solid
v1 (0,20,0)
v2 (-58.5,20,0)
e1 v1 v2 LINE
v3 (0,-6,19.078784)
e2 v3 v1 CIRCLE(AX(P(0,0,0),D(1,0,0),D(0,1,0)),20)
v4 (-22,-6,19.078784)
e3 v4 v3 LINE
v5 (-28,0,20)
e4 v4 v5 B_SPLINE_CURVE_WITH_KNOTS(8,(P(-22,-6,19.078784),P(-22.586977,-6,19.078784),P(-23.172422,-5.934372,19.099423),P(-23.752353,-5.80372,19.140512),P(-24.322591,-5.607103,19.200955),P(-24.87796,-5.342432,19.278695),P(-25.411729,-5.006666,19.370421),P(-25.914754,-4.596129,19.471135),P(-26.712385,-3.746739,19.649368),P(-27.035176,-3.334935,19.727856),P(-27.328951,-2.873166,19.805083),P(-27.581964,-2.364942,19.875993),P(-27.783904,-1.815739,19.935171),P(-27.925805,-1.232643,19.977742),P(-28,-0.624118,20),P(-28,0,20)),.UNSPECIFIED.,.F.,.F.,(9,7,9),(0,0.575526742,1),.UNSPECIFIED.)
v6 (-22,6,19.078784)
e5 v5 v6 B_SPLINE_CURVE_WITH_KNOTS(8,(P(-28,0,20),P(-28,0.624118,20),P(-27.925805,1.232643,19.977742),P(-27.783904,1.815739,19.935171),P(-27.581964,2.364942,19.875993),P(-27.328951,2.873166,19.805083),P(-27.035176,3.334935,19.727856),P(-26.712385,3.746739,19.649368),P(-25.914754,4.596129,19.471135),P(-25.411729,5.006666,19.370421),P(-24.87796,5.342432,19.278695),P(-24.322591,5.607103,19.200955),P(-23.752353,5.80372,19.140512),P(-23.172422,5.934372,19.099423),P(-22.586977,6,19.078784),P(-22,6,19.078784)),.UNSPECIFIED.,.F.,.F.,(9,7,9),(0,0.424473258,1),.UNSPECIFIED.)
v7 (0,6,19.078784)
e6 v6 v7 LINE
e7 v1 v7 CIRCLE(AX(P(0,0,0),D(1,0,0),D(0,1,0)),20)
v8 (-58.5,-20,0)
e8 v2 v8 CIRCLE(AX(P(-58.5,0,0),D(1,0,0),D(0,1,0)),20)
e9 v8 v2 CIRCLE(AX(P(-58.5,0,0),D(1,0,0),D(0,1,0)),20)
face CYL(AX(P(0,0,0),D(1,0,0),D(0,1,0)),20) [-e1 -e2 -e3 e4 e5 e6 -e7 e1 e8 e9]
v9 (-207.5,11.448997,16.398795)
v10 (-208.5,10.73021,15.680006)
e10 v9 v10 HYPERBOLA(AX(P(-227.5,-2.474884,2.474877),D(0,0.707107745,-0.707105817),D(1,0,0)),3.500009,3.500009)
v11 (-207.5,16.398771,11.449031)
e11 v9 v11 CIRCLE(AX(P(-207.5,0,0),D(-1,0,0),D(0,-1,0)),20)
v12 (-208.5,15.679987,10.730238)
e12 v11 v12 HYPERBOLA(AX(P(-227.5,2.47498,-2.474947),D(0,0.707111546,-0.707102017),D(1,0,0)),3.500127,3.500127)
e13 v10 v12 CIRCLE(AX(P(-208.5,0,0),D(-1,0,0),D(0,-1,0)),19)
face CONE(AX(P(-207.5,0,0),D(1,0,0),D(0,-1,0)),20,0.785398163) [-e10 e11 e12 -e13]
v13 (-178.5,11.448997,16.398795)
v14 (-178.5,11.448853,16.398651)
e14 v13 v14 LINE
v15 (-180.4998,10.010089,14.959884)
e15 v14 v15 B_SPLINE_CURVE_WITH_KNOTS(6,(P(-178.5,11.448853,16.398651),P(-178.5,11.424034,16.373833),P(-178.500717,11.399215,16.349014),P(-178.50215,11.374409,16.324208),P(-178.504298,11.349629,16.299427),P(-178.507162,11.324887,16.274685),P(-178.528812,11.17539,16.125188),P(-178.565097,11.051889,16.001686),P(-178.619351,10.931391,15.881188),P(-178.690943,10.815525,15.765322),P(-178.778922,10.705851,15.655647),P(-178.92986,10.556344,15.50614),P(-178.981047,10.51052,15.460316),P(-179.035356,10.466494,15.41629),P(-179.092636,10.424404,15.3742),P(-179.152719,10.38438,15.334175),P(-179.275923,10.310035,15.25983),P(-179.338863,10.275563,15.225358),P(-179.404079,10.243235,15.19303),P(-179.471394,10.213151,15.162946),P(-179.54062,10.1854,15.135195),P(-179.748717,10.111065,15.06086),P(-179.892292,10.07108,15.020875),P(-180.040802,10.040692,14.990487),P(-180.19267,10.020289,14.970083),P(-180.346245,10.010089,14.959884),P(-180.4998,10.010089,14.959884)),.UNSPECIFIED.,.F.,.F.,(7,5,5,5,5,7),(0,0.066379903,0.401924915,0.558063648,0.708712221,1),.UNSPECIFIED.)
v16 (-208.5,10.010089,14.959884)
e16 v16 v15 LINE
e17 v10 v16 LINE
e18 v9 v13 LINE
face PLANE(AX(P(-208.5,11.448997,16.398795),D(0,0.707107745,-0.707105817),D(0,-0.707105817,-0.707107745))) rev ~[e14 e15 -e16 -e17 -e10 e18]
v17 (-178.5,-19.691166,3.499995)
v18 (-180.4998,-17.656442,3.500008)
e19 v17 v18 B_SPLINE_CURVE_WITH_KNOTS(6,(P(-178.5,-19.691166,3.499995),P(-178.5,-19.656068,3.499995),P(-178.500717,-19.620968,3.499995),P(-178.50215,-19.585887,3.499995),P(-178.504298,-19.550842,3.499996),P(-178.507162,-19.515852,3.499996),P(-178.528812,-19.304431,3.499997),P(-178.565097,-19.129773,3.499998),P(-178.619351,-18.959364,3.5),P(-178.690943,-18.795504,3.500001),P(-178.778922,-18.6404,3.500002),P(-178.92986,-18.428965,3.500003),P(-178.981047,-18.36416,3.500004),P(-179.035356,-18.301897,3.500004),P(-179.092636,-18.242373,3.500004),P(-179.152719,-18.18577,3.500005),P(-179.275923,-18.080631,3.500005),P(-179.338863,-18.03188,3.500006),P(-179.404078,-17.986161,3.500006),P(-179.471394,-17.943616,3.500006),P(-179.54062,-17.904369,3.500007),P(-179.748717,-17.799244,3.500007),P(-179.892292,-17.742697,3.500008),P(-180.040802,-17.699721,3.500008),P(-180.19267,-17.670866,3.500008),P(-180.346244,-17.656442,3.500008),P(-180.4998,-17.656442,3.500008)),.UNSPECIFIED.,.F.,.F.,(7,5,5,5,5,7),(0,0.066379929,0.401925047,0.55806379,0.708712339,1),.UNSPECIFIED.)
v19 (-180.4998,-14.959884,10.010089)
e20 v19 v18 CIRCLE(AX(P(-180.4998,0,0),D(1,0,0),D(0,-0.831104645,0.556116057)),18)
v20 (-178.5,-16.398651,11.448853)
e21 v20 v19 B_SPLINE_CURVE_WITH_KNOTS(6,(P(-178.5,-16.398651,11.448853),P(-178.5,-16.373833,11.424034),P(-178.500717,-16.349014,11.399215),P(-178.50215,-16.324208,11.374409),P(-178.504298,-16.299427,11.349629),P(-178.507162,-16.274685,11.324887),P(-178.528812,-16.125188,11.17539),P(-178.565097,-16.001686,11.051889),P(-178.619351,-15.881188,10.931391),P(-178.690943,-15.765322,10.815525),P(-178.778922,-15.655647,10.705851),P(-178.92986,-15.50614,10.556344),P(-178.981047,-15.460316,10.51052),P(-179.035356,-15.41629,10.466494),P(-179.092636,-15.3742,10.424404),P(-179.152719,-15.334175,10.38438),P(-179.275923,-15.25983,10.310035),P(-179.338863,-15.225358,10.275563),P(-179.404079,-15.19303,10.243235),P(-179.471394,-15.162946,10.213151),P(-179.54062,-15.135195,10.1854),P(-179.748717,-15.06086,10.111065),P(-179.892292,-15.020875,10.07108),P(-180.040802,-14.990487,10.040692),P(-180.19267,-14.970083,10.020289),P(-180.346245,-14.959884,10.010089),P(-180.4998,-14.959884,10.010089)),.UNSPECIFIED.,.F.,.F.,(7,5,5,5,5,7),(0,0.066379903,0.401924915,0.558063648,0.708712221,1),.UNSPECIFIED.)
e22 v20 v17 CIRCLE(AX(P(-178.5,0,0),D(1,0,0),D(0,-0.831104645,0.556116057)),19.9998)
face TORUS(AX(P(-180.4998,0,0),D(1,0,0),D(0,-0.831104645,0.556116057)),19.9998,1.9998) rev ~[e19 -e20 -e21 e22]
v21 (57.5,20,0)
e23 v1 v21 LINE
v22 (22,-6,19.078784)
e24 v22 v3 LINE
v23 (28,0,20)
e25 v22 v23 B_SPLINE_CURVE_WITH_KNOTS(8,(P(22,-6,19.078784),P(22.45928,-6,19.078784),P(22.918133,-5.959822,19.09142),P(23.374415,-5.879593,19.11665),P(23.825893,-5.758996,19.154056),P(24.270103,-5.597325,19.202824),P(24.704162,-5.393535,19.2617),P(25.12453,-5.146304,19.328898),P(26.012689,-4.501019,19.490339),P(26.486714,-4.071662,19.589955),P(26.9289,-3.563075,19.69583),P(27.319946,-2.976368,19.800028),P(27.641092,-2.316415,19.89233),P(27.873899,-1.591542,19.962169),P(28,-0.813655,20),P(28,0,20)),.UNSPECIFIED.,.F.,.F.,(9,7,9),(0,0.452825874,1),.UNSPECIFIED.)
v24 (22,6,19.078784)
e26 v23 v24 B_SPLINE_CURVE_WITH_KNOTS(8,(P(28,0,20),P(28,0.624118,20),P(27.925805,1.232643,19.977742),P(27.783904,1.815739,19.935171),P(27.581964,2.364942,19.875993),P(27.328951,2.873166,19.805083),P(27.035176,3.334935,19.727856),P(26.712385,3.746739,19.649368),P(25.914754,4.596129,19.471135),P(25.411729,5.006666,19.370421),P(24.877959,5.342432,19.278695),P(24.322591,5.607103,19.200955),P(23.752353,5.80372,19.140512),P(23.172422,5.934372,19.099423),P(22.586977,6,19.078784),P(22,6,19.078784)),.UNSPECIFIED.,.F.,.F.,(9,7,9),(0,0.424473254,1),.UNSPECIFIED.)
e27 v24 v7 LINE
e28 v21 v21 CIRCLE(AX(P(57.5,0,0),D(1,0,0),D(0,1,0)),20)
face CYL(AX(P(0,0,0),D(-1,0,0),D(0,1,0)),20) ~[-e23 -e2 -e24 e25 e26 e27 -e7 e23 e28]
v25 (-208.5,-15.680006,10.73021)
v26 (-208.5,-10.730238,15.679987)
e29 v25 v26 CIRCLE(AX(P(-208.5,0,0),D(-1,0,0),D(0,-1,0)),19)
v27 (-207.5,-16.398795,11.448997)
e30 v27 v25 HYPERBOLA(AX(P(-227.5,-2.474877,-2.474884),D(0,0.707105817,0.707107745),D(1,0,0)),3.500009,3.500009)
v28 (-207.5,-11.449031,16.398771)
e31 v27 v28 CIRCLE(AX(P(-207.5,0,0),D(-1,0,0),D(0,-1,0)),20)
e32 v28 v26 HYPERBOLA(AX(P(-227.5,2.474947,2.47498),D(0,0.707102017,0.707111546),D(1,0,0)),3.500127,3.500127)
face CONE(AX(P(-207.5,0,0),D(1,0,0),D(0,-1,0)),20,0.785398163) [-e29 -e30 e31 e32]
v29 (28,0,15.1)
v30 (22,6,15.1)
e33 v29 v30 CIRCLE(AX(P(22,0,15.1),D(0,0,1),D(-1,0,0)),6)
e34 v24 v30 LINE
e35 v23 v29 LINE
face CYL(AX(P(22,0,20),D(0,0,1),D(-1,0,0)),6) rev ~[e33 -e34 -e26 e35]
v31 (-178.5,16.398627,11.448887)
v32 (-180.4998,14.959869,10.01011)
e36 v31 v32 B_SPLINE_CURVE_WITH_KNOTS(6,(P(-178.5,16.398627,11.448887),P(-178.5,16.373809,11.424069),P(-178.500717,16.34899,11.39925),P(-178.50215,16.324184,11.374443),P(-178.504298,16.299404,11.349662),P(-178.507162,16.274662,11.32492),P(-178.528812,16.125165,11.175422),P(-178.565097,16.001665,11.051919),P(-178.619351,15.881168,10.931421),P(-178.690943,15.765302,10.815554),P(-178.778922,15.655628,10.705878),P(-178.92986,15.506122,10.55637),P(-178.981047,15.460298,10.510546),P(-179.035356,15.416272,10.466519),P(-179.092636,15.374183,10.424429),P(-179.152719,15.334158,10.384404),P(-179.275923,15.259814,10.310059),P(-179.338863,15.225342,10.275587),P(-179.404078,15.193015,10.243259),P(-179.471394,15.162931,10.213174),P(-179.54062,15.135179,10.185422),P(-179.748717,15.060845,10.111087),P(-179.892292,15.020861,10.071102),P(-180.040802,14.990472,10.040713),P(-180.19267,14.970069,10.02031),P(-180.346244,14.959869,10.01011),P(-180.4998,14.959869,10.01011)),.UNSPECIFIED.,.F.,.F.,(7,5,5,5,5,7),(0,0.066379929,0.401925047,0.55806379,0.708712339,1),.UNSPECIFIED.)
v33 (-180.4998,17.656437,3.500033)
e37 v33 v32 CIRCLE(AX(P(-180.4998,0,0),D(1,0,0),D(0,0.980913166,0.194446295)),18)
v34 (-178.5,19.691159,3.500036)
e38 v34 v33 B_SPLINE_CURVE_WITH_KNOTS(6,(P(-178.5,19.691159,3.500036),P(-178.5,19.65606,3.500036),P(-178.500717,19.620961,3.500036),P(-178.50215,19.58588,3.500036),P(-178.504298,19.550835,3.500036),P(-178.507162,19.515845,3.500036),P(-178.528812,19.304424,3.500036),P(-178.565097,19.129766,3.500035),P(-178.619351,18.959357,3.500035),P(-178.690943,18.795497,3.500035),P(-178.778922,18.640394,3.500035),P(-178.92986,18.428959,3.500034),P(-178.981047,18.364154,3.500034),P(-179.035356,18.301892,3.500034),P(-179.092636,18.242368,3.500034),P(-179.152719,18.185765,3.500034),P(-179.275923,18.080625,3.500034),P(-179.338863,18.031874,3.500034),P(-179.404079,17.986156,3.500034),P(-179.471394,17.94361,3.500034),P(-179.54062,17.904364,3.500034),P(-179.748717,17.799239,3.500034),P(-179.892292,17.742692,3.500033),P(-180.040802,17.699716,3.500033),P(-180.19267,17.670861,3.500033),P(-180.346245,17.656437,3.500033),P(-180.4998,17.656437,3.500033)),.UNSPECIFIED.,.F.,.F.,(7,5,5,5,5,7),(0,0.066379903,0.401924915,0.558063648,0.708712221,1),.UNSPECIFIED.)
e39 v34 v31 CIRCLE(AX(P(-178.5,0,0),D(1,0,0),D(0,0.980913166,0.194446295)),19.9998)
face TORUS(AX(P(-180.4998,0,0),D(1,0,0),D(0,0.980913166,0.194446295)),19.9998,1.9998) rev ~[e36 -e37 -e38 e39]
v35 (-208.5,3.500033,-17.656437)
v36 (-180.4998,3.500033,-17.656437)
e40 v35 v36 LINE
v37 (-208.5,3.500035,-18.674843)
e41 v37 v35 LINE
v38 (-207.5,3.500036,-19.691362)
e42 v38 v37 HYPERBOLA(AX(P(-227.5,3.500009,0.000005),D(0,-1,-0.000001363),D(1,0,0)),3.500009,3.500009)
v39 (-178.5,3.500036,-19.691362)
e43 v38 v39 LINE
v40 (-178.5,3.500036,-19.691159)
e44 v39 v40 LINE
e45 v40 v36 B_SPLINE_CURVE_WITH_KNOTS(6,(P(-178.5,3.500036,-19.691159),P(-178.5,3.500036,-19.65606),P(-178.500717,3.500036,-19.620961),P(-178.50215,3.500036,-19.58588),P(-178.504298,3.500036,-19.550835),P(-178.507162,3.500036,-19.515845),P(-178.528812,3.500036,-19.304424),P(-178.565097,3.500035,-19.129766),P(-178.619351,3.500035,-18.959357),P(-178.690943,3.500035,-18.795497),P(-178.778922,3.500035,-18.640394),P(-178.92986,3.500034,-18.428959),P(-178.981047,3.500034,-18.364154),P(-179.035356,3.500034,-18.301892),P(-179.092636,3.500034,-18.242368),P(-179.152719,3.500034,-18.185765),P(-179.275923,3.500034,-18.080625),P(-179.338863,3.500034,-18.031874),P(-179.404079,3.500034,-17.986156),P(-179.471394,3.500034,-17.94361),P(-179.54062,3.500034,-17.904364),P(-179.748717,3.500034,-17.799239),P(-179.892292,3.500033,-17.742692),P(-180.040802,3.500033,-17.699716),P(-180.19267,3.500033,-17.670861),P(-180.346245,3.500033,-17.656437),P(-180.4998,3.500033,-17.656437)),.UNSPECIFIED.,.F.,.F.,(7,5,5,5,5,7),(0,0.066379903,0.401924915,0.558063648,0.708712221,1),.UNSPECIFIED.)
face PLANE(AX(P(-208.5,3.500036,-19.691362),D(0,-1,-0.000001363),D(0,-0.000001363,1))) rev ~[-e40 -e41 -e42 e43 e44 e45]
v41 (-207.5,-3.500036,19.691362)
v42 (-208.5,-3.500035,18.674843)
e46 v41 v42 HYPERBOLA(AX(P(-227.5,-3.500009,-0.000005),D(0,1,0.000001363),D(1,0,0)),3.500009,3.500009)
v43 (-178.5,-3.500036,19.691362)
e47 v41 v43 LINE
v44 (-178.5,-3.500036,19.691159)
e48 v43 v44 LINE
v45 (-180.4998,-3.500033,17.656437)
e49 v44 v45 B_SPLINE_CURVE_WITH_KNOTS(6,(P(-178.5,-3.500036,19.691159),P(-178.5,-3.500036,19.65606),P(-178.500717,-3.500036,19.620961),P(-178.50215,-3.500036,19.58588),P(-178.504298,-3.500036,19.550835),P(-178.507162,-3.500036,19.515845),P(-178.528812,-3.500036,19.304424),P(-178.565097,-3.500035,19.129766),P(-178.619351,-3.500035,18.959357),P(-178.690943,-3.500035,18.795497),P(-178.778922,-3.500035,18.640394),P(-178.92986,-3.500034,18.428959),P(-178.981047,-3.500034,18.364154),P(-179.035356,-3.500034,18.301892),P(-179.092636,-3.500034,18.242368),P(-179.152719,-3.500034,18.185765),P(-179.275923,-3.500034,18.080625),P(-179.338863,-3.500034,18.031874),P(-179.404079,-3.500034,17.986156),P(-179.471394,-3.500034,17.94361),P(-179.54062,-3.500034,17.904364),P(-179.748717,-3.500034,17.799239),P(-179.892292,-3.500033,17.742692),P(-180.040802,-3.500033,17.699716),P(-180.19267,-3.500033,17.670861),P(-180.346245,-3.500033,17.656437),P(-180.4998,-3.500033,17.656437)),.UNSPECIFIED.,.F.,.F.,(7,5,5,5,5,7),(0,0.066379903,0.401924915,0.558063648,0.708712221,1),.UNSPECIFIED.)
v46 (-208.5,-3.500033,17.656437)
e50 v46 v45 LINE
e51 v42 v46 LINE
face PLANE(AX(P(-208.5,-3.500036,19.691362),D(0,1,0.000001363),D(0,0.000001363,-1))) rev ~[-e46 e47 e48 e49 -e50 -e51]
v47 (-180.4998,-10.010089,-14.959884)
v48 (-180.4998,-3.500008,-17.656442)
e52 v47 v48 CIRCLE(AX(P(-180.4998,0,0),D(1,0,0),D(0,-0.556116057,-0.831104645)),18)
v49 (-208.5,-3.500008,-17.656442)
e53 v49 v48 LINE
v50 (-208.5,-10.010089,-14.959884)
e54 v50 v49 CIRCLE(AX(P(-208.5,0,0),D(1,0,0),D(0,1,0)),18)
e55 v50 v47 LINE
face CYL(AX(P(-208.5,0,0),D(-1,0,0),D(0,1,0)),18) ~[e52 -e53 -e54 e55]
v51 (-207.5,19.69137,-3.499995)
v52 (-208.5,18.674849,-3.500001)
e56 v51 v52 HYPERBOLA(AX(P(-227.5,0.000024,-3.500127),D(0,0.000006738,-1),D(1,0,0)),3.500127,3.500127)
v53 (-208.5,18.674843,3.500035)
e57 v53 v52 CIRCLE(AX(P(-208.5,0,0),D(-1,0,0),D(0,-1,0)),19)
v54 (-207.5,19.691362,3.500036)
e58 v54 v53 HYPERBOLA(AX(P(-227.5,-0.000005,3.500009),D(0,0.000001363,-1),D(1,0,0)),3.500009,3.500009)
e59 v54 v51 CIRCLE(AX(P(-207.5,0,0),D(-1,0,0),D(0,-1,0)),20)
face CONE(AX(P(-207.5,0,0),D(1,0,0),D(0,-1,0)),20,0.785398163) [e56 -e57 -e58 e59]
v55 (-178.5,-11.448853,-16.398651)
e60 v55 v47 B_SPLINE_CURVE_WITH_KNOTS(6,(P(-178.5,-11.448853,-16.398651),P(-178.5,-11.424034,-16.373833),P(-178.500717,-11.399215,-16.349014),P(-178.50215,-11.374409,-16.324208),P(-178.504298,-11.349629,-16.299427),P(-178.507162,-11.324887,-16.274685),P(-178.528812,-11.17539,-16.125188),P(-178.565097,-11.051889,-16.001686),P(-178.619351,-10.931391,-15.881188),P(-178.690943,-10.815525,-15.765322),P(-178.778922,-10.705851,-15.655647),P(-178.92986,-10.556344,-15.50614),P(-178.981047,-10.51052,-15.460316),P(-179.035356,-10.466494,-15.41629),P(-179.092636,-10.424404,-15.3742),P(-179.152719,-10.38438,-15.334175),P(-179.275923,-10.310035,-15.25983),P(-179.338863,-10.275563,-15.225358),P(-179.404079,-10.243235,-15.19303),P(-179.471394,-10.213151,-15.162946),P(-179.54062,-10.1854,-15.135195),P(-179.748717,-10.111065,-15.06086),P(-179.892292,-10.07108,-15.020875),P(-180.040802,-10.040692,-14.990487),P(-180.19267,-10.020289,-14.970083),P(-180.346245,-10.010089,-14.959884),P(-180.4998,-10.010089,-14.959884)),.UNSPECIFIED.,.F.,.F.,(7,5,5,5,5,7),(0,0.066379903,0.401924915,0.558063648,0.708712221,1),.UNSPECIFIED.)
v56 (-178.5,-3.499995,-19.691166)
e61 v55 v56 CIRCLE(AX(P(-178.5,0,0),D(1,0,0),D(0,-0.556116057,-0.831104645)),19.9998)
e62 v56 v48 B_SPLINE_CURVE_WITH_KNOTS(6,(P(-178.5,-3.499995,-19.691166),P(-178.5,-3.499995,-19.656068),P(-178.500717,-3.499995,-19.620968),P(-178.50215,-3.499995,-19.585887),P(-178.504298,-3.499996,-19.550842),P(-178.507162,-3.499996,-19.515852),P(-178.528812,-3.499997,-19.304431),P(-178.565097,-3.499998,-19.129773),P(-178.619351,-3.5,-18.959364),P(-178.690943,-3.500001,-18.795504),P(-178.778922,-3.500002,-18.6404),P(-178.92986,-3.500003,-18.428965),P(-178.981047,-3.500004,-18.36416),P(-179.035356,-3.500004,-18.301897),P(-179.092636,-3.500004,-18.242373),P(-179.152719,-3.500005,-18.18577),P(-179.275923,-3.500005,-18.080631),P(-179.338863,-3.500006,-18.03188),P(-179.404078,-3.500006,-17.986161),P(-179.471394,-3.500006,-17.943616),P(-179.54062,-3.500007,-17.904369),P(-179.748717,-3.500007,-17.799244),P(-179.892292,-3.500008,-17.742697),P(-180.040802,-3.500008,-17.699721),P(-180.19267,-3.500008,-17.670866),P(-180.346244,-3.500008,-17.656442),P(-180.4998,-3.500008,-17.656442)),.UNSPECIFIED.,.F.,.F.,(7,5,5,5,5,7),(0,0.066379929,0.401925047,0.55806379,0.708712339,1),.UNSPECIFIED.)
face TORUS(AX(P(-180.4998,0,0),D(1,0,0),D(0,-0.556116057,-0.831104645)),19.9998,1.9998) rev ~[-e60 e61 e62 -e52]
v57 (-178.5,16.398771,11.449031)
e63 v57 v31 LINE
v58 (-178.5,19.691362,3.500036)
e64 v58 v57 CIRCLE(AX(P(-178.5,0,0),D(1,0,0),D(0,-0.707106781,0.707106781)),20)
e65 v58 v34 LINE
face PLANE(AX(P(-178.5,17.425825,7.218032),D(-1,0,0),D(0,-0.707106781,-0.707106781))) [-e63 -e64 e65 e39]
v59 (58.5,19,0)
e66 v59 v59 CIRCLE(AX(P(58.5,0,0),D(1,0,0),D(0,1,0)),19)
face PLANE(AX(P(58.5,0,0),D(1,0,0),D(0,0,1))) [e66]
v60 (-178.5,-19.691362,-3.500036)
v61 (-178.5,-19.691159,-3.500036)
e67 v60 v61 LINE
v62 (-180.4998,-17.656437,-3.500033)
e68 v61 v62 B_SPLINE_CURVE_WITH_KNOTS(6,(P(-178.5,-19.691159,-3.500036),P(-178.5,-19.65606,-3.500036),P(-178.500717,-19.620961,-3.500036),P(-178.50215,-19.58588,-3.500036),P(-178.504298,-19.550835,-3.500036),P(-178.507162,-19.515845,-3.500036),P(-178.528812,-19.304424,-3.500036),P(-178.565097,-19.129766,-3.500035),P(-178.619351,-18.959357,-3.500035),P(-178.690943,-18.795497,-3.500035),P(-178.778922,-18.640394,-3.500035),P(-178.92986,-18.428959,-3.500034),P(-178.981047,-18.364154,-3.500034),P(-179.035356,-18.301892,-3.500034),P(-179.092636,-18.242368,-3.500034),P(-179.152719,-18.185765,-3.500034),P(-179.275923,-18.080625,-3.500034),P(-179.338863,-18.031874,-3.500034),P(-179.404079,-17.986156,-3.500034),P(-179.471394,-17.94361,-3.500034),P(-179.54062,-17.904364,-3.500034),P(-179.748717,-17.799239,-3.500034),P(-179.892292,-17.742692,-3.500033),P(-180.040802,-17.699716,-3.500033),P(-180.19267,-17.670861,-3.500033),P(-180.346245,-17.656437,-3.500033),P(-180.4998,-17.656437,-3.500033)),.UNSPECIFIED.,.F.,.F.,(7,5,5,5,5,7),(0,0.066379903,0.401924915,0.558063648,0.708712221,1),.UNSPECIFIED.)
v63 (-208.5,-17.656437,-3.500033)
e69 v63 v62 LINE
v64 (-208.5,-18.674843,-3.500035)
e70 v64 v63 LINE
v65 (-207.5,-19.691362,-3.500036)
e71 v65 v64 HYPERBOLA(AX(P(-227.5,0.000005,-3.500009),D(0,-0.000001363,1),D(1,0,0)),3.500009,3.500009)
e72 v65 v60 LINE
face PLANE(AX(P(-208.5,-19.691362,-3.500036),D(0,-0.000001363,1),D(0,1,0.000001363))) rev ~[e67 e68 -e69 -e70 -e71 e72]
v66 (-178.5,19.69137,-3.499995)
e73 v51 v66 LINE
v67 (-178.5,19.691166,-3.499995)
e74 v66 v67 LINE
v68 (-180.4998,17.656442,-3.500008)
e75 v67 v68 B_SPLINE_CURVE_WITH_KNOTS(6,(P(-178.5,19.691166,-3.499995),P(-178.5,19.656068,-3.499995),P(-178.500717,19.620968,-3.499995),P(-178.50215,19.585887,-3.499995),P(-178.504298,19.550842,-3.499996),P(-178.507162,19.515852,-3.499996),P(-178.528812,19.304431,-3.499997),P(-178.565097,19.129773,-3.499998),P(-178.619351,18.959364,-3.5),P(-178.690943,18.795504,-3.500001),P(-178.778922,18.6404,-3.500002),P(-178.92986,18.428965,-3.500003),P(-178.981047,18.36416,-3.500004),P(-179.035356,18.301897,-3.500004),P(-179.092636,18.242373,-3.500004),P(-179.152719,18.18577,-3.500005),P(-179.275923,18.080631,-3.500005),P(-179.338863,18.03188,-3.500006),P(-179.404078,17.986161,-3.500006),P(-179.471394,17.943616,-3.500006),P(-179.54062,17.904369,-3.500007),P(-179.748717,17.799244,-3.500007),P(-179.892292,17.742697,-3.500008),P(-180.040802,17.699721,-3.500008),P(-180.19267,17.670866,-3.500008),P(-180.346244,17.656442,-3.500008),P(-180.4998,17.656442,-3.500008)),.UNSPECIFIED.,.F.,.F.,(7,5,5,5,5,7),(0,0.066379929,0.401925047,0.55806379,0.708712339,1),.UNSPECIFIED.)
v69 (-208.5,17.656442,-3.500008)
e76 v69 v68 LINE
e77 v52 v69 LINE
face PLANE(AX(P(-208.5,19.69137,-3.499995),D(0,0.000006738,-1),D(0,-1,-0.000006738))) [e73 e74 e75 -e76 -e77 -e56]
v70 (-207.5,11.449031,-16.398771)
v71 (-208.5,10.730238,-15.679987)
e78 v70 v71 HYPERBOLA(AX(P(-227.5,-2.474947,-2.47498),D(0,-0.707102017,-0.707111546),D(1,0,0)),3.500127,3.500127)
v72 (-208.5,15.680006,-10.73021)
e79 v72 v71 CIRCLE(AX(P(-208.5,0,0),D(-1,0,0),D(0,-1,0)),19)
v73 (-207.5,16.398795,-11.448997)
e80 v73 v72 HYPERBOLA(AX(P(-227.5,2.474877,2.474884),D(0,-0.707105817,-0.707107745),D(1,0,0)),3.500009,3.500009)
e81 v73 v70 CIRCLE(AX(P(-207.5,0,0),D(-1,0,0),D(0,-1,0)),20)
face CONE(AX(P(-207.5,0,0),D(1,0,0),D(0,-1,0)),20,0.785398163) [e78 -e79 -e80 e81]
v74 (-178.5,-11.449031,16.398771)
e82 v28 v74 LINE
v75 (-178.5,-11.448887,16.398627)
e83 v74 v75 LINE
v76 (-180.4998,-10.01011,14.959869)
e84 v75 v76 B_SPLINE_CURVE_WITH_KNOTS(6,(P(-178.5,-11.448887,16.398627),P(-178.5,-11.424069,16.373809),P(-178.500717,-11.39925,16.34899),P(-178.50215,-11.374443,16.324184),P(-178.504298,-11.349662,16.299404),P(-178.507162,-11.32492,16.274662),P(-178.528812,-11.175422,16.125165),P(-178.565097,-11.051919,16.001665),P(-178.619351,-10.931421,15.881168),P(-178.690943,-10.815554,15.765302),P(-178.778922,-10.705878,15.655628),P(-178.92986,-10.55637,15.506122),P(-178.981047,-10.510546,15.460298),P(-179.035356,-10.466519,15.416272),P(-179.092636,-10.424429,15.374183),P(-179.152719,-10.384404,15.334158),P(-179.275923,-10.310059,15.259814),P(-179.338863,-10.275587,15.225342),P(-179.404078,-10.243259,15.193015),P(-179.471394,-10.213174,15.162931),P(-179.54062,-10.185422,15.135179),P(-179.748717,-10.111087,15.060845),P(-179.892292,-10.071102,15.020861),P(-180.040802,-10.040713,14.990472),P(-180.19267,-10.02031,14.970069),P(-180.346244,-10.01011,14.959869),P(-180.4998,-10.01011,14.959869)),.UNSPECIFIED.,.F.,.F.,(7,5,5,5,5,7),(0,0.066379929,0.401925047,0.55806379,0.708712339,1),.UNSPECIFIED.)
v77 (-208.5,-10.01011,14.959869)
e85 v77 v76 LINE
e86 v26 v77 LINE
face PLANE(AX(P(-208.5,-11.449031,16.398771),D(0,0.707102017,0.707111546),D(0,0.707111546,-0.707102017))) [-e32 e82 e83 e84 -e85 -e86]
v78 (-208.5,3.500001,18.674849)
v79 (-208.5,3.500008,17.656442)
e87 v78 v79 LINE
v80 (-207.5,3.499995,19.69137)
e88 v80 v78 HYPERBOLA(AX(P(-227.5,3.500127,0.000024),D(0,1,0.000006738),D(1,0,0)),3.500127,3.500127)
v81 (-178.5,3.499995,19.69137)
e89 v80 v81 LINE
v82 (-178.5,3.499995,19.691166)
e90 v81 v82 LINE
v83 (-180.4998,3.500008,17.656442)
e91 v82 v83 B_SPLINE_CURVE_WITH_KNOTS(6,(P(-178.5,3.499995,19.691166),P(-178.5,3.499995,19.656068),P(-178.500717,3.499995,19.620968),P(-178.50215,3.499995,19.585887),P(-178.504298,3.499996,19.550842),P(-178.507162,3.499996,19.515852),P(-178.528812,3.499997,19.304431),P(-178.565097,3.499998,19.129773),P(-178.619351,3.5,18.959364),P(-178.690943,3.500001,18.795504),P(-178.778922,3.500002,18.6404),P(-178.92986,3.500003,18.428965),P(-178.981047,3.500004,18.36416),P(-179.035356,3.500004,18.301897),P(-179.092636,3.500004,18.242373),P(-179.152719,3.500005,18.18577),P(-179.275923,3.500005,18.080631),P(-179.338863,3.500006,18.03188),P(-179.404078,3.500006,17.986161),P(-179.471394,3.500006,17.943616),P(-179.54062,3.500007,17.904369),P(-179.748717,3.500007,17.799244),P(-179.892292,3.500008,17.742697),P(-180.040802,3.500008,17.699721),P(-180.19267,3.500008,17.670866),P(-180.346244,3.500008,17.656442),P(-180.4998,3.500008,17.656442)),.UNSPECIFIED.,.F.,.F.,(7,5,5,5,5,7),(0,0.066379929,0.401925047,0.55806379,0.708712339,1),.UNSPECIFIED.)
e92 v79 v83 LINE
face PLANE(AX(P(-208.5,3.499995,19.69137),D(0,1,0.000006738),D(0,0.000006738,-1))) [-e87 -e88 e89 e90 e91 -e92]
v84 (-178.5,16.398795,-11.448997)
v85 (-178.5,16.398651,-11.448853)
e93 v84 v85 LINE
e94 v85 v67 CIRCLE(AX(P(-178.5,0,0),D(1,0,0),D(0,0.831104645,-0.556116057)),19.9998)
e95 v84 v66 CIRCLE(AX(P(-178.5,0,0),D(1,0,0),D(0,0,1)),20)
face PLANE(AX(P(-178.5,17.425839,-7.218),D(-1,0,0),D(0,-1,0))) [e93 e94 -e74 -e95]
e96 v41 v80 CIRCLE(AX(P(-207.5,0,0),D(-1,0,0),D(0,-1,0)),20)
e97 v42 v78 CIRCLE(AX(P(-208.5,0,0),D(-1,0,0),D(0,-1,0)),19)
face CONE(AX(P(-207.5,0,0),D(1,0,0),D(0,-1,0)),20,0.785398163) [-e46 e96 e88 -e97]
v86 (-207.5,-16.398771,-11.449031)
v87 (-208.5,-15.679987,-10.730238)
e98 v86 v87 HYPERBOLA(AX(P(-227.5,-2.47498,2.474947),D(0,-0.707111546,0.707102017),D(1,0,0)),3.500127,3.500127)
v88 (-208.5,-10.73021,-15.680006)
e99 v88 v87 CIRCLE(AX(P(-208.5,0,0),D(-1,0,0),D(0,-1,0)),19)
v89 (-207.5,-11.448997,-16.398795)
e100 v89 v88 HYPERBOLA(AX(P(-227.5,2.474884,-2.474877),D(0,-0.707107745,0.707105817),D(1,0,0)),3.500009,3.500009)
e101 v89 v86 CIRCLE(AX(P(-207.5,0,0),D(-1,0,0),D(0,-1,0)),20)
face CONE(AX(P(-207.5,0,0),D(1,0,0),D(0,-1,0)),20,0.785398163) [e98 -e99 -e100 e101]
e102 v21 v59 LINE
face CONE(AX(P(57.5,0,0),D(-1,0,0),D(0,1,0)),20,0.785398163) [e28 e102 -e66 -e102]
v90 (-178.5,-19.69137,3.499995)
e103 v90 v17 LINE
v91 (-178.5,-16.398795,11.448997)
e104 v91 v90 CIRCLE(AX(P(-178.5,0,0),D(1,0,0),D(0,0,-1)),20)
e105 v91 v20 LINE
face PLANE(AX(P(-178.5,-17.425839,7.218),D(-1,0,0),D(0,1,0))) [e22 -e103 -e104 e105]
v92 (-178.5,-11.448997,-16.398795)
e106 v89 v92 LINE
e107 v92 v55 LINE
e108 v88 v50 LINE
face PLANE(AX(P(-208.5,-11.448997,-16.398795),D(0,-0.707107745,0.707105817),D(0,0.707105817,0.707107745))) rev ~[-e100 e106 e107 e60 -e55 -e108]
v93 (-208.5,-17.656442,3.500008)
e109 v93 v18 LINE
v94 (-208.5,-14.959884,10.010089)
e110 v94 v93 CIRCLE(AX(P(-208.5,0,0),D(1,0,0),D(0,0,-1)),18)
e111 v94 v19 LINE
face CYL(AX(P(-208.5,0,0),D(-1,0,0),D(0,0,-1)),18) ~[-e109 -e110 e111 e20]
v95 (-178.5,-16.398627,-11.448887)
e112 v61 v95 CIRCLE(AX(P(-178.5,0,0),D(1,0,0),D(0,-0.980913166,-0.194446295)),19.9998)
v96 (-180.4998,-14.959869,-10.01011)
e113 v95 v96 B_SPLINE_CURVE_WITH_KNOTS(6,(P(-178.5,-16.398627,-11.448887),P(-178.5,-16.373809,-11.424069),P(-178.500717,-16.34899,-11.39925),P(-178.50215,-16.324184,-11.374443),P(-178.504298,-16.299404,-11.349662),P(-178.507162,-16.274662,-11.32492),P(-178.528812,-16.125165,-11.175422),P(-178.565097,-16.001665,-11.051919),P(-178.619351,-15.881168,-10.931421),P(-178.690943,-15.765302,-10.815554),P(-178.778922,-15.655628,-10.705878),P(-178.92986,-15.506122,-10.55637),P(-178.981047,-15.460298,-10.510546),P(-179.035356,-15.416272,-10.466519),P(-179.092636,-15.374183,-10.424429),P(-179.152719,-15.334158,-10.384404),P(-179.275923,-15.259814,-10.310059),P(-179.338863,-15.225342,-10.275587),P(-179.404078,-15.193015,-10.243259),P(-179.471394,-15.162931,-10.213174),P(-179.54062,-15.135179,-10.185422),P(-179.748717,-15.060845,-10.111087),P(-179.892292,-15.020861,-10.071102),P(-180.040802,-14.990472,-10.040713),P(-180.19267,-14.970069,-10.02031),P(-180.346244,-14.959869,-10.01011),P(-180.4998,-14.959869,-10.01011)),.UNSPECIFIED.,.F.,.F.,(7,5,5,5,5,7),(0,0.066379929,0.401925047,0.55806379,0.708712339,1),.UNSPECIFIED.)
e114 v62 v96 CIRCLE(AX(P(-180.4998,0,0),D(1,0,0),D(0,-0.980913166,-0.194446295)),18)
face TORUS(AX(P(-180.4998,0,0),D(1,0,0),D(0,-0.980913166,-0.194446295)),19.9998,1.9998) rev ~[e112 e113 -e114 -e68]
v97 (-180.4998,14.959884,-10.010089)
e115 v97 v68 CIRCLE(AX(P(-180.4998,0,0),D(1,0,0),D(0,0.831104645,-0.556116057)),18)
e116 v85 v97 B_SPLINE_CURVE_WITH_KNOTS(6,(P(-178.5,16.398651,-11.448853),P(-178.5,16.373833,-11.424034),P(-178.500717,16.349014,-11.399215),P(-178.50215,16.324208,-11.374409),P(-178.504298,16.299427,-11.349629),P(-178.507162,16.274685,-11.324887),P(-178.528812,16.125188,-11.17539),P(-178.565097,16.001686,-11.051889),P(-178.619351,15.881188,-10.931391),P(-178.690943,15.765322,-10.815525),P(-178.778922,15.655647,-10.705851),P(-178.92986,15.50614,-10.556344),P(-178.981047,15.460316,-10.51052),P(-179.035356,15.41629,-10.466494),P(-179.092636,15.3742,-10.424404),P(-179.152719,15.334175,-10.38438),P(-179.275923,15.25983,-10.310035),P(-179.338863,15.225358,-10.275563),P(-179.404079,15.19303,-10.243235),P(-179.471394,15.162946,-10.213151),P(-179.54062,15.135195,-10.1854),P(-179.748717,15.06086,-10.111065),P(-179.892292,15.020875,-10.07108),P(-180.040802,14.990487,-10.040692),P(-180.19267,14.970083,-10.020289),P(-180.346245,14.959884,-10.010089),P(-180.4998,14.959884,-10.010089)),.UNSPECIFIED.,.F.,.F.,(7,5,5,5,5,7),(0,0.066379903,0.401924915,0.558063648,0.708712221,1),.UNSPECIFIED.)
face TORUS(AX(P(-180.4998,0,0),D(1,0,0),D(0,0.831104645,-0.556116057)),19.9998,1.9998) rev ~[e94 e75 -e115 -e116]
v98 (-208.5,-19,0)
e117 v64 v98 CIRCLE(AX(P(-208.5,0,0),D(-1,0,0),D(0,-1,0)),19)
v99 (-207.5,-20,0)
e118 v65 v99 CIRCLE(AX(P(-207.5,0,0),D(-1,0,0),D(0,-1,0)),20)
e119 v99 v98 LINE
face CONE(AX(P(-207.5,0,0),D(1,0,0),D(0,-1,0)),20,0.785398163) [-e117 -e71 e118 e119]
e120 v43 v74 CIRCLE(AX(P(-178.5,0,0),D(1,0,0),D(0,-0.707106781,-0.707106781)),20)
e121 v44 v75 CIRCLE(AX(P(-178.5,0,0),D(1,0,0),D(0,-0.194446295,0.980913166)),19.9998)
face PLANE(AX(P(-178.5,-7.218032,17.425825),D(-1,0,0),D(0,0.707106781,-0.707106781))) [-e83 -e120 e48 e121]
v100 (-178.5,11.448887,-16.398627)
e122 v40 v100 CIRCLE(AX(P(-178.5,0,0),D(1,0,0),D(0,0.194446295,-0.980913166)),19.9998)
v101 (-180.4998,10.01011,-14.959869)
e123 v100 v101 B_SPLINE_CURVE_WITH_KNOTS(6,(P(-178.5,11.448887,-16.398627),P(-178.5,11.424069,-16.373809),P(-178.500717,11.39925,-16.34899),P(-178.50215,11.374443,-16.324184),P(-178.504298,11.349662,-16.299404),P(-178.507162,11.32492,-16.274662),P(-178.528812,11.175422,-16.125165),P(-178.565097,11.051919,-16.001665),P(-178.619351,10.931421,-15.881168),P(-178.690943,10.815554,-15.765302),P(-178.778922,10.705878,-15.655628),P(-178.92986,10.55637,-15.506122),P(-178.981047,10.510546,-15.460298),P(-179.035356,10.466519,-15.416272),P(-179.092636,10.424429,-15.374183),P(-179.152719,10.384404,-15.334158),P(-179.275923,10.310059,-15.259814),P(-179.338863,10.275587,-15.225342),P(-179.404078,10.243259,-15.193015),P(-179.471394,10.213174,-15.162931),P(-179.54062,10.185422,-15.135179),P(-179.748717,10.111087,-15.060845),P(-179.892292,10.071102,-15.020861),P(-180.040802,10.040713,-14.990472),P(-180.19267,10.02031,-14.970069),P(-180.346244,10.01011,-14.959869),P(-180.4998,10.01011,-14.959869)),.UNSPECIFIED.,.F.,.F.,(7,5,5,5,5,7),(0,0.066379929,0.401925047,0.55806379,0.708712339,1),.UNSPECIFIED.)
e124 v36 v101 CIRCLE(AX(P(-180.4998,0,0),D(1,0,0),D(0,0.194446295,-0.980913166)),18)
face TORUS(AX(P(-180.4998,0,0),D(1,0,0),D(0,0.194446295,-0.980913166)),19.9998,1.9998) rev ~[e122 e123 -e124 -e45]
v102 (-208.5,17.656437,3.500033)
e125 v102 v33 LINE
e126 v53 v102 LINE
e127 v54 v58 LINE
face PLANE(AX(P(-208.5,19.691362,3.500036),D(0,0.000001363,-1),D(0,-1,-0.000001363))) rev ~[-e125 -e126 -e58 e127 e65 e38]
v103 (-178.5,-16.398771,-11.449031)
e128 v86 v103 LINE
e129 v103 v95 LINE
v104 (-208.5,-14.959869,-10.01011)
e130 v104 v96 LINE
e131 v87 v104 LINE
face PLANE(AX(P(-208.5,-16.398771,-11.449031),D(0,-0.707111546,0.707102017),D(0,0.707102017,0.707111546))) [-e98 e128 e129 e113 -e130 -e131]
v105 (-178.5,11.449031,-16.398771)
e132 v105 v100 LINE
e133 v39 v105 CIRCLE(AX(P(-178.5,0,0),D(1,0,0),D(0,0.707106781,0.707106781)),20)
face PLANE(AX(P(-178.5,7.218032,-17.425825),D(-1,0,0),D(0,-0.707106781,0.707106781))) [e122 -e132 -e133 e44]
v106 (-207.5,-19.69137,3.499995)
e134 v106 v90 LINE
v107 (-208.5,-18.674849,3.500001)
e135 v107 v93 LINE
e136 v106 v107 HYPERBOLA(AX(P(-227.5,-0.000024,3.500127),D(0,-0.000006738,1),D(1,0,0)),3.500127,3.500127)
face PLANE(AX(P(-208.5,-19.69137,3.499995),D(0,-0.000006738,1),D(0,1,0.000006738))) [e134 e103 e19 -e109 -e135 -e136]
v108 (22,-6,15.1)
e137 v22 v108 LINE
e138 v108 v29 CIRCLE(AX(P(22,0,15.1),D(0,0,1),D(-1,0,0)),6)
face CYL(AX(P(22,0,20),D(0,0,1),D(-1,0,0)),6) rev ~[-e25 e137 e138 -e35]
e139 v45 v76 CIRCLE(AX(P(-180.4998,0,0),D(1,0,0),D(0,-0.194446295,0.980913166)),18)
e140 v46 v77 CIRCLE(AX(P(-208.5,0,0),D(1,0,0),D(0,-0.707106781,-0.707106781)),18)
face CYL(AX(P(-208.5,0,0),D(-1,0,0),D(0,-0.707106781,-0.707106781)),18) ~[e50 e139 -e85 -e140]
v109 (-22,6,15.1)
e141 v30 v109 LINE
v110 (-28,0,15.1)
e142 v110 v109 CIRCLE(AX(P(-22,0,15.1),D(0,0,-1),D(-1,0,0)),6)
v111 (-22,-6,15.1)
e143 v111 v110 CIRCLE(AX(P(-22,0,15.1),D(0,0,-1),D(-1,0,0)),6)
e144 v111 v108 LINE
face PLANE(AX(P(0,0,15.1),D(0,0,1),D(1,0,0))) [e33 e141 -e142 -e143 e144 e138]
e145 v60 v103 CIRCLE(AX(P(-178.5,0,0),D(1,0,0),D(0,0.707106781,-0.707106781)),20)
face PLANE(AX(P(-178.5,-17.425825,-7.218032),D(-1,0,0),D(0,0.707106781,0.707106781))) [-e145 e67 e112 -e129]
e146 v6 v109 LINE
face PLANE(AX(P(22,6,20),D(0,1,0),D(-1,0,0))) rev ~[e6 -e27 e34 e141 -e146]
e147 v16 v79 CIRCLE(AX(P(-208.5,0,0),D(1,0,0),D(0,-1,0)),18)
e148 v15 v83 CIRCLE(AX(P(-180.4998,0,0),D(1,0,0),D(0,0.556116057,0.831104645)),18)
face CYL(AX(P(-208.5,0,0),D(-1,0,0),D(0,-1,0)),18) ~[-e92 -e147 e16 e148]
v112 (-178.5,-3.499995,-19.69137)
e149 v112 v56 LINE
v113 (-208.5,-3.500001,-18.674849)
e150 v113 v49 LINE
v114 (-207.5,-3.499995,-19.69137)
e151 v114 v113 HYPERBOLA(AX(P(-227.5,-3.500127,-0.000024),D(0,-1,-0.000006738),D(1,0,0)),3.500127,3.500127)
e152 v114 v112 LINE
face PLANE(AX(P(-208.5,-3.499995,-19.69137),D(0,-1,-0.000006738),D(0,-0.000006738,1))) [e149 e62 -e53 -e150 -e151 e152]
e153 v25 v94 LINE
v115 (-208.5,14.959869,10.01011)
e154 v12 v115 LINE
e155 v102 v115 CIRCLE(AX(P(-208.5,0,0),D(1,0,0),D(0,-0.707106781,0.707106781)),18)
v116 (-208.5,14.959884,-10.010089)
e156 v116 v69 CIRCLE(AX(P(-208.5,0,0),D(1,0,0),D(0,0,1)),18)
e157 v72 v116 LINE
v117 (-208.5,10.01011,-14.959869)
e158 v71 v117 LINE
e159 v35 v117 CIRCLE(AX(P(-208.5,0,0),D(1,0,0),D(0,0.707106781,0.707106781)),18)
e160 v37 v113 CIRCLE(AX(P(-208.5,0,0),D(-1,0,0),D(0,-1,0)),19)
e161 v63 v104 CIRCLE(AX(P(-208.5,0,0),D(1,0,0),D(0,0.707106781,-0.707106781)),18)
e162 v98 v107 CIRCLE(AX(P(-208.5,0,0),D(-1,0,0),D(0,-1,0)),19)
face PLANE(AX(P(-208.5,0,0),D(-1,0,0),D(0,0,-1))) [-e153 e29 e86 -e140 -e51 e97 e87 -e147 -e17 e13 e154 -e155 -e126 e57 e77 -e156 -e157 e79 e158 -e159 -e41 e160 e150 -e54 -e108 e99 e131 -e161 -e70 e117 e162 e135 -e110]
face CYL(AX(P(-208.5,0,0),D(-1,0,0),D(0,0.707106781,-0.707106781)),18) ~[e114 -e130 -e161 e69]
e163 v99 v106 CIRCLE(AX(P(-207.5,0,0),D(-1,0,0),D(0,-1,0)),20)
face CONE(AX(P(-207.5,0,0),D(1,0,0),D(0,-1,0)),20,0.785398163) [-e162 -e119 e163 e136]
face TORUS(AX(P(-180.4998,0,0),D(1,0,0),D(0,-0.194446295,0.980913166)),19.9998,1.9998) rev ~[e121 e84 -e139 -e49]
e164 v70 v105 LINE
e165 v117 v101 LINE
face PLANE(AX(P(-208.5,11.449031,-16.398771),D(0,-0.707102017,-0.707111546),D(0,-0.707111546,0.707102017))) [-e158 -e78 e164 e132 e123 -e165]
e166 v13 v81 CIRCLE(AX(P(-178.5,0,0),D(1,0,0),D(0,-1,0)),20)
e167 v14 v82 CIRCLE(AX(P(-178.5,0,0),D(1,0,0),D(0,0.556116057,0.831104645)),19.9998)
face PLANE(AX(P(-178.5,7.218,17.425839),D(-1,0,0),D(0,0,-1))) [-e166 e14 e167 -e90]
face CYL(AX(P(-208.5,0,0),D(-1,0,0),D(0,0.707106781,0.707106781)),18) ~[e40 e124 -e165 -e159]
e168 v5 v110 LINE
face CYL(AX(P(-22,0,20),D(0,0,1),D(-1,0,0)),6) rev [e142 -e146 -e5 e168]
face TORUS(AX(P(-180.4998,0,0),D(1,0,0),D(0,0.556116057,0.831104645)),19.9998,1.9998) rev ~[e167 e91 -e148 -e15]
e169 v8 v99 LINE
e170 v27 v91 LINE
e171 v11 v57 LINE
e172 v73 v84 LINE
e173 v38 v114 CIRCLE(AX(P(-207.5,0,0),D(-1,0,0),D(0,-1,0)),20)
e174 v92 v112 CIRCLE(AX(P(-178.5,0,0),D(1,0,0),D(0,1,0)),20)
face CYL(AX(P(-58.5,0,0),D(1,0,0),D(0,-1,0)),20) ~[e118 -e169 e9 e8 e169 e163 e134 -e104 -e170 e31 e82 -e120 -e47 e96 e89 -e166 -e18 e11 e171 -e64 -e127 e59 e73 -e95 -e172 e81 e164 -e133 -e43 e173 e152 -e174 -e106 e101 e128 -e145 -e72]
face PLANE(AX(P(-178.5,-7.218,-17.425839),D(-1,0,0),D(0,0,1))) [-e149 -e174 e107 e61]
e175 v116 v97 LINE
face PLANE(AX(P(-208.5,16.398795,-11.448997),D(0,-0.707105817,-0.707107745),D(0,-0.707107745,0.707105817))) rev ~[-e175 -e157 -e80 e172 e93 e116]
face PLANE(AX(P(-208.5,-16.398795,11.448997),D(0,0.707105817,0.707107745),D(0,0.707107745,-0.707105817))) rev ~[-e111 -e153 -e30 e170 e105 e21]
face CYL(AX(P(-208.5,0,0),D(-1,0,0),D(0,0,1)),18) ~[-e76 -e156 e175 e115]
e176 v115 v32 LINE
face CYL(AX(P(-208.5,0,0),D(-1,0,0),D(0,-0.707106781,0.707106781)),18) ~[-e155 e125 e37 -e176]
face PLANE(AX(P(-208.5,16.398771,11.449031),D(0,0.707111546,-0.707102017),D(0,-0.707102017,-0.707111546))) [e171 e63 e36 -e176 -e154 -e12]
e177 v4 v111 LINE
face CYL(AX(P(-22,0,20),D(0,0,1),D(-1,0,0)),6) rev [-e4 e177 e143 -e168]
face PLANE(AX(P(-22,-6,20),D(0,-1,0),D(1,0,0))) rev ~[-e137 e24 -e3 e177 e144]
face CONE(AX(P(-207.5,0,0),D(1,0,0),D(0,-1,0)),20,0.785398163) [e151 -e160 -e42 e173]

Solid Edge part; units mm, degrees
sketch "Sketch1" plane through (0, 0, 0) normal (1, 0, 0) x (0, 1, 0)
  circle A0 centre (0, 0) radius 20
extrude "Protrusion1" add sketch "Sketch1" along normal mid plane 117
sketch "Sketch2" plane through (-58.5, 0, 0) normal (-1, 0, 0) x (0, -1, 0)
  circle A0 centre (0, 0) radius 20
extrude "ProtrusiónExtruida_2" add sketch "Sketch2" along normal blind 150
sketch "Sketch3" plane through (-74.5, 0, 20) normal (0, 0, 1) x (-1, 0, 0)
  line L0 (-52.5, 6) -> (-96.5, 6)
  arc A0 (-96.5, 6) -> (-102.5, 0) centre (-96.5, 0) ccw
  arc A1 (-102.5, 0) -> (-96.5, -6) centre (-96.5, 0) ccw
  line L1 (-96.5, -6) -> (-52.5, -6)
  arc A2 (-46.5, 0) -> (-52.5, -6) centre (-52.5, 0) cw
  arc A3 (-52.5, 6) -> (-46.5, 0) centre (-52.5, 0) cw
extrude "VaciadoExtruido_3" cut sketch "Sketch3" against normal blind 4.9
chamfer "Chaflán_2" distance 1 angle 45 1 edges at (-208.5, 20, 0)
chamfer "Chaflán_3" distance 1 angle 45 1 edges at (58.5, -20, 0)
sketch "Sketch4" plane through (-208.5, 0, 0) normal (-1, 0, 0) x (0, -1, 0)
  line L0 (-11.449, 16.3988) -> (-10.0101, 14.9599)
  arc A0 (-10.0101, 14.9599) -> (-3.5, 17.6564) centre (0, 0) cw
  line L1 (-3.5, 19.6914) -> (-3.5, 17.6564)
  arc A1 (-11.449, 16.3988) -> (-3.5, 19.6914) centre (0, 0) cw
extrude "VaciadoExtruido_5" cut sketch "Sketch4" against normal blind 30
fillet "Redondeo_3" radius 2 1 edges at (-178.5, 6.8883, 16.6298)
pattern_circular "Pattern1" count 8 over 360 about axis through (-208.5, 0, 0) along (1, 0, 0) of "VaciadoExtruido_5", "Redondeo_3"
